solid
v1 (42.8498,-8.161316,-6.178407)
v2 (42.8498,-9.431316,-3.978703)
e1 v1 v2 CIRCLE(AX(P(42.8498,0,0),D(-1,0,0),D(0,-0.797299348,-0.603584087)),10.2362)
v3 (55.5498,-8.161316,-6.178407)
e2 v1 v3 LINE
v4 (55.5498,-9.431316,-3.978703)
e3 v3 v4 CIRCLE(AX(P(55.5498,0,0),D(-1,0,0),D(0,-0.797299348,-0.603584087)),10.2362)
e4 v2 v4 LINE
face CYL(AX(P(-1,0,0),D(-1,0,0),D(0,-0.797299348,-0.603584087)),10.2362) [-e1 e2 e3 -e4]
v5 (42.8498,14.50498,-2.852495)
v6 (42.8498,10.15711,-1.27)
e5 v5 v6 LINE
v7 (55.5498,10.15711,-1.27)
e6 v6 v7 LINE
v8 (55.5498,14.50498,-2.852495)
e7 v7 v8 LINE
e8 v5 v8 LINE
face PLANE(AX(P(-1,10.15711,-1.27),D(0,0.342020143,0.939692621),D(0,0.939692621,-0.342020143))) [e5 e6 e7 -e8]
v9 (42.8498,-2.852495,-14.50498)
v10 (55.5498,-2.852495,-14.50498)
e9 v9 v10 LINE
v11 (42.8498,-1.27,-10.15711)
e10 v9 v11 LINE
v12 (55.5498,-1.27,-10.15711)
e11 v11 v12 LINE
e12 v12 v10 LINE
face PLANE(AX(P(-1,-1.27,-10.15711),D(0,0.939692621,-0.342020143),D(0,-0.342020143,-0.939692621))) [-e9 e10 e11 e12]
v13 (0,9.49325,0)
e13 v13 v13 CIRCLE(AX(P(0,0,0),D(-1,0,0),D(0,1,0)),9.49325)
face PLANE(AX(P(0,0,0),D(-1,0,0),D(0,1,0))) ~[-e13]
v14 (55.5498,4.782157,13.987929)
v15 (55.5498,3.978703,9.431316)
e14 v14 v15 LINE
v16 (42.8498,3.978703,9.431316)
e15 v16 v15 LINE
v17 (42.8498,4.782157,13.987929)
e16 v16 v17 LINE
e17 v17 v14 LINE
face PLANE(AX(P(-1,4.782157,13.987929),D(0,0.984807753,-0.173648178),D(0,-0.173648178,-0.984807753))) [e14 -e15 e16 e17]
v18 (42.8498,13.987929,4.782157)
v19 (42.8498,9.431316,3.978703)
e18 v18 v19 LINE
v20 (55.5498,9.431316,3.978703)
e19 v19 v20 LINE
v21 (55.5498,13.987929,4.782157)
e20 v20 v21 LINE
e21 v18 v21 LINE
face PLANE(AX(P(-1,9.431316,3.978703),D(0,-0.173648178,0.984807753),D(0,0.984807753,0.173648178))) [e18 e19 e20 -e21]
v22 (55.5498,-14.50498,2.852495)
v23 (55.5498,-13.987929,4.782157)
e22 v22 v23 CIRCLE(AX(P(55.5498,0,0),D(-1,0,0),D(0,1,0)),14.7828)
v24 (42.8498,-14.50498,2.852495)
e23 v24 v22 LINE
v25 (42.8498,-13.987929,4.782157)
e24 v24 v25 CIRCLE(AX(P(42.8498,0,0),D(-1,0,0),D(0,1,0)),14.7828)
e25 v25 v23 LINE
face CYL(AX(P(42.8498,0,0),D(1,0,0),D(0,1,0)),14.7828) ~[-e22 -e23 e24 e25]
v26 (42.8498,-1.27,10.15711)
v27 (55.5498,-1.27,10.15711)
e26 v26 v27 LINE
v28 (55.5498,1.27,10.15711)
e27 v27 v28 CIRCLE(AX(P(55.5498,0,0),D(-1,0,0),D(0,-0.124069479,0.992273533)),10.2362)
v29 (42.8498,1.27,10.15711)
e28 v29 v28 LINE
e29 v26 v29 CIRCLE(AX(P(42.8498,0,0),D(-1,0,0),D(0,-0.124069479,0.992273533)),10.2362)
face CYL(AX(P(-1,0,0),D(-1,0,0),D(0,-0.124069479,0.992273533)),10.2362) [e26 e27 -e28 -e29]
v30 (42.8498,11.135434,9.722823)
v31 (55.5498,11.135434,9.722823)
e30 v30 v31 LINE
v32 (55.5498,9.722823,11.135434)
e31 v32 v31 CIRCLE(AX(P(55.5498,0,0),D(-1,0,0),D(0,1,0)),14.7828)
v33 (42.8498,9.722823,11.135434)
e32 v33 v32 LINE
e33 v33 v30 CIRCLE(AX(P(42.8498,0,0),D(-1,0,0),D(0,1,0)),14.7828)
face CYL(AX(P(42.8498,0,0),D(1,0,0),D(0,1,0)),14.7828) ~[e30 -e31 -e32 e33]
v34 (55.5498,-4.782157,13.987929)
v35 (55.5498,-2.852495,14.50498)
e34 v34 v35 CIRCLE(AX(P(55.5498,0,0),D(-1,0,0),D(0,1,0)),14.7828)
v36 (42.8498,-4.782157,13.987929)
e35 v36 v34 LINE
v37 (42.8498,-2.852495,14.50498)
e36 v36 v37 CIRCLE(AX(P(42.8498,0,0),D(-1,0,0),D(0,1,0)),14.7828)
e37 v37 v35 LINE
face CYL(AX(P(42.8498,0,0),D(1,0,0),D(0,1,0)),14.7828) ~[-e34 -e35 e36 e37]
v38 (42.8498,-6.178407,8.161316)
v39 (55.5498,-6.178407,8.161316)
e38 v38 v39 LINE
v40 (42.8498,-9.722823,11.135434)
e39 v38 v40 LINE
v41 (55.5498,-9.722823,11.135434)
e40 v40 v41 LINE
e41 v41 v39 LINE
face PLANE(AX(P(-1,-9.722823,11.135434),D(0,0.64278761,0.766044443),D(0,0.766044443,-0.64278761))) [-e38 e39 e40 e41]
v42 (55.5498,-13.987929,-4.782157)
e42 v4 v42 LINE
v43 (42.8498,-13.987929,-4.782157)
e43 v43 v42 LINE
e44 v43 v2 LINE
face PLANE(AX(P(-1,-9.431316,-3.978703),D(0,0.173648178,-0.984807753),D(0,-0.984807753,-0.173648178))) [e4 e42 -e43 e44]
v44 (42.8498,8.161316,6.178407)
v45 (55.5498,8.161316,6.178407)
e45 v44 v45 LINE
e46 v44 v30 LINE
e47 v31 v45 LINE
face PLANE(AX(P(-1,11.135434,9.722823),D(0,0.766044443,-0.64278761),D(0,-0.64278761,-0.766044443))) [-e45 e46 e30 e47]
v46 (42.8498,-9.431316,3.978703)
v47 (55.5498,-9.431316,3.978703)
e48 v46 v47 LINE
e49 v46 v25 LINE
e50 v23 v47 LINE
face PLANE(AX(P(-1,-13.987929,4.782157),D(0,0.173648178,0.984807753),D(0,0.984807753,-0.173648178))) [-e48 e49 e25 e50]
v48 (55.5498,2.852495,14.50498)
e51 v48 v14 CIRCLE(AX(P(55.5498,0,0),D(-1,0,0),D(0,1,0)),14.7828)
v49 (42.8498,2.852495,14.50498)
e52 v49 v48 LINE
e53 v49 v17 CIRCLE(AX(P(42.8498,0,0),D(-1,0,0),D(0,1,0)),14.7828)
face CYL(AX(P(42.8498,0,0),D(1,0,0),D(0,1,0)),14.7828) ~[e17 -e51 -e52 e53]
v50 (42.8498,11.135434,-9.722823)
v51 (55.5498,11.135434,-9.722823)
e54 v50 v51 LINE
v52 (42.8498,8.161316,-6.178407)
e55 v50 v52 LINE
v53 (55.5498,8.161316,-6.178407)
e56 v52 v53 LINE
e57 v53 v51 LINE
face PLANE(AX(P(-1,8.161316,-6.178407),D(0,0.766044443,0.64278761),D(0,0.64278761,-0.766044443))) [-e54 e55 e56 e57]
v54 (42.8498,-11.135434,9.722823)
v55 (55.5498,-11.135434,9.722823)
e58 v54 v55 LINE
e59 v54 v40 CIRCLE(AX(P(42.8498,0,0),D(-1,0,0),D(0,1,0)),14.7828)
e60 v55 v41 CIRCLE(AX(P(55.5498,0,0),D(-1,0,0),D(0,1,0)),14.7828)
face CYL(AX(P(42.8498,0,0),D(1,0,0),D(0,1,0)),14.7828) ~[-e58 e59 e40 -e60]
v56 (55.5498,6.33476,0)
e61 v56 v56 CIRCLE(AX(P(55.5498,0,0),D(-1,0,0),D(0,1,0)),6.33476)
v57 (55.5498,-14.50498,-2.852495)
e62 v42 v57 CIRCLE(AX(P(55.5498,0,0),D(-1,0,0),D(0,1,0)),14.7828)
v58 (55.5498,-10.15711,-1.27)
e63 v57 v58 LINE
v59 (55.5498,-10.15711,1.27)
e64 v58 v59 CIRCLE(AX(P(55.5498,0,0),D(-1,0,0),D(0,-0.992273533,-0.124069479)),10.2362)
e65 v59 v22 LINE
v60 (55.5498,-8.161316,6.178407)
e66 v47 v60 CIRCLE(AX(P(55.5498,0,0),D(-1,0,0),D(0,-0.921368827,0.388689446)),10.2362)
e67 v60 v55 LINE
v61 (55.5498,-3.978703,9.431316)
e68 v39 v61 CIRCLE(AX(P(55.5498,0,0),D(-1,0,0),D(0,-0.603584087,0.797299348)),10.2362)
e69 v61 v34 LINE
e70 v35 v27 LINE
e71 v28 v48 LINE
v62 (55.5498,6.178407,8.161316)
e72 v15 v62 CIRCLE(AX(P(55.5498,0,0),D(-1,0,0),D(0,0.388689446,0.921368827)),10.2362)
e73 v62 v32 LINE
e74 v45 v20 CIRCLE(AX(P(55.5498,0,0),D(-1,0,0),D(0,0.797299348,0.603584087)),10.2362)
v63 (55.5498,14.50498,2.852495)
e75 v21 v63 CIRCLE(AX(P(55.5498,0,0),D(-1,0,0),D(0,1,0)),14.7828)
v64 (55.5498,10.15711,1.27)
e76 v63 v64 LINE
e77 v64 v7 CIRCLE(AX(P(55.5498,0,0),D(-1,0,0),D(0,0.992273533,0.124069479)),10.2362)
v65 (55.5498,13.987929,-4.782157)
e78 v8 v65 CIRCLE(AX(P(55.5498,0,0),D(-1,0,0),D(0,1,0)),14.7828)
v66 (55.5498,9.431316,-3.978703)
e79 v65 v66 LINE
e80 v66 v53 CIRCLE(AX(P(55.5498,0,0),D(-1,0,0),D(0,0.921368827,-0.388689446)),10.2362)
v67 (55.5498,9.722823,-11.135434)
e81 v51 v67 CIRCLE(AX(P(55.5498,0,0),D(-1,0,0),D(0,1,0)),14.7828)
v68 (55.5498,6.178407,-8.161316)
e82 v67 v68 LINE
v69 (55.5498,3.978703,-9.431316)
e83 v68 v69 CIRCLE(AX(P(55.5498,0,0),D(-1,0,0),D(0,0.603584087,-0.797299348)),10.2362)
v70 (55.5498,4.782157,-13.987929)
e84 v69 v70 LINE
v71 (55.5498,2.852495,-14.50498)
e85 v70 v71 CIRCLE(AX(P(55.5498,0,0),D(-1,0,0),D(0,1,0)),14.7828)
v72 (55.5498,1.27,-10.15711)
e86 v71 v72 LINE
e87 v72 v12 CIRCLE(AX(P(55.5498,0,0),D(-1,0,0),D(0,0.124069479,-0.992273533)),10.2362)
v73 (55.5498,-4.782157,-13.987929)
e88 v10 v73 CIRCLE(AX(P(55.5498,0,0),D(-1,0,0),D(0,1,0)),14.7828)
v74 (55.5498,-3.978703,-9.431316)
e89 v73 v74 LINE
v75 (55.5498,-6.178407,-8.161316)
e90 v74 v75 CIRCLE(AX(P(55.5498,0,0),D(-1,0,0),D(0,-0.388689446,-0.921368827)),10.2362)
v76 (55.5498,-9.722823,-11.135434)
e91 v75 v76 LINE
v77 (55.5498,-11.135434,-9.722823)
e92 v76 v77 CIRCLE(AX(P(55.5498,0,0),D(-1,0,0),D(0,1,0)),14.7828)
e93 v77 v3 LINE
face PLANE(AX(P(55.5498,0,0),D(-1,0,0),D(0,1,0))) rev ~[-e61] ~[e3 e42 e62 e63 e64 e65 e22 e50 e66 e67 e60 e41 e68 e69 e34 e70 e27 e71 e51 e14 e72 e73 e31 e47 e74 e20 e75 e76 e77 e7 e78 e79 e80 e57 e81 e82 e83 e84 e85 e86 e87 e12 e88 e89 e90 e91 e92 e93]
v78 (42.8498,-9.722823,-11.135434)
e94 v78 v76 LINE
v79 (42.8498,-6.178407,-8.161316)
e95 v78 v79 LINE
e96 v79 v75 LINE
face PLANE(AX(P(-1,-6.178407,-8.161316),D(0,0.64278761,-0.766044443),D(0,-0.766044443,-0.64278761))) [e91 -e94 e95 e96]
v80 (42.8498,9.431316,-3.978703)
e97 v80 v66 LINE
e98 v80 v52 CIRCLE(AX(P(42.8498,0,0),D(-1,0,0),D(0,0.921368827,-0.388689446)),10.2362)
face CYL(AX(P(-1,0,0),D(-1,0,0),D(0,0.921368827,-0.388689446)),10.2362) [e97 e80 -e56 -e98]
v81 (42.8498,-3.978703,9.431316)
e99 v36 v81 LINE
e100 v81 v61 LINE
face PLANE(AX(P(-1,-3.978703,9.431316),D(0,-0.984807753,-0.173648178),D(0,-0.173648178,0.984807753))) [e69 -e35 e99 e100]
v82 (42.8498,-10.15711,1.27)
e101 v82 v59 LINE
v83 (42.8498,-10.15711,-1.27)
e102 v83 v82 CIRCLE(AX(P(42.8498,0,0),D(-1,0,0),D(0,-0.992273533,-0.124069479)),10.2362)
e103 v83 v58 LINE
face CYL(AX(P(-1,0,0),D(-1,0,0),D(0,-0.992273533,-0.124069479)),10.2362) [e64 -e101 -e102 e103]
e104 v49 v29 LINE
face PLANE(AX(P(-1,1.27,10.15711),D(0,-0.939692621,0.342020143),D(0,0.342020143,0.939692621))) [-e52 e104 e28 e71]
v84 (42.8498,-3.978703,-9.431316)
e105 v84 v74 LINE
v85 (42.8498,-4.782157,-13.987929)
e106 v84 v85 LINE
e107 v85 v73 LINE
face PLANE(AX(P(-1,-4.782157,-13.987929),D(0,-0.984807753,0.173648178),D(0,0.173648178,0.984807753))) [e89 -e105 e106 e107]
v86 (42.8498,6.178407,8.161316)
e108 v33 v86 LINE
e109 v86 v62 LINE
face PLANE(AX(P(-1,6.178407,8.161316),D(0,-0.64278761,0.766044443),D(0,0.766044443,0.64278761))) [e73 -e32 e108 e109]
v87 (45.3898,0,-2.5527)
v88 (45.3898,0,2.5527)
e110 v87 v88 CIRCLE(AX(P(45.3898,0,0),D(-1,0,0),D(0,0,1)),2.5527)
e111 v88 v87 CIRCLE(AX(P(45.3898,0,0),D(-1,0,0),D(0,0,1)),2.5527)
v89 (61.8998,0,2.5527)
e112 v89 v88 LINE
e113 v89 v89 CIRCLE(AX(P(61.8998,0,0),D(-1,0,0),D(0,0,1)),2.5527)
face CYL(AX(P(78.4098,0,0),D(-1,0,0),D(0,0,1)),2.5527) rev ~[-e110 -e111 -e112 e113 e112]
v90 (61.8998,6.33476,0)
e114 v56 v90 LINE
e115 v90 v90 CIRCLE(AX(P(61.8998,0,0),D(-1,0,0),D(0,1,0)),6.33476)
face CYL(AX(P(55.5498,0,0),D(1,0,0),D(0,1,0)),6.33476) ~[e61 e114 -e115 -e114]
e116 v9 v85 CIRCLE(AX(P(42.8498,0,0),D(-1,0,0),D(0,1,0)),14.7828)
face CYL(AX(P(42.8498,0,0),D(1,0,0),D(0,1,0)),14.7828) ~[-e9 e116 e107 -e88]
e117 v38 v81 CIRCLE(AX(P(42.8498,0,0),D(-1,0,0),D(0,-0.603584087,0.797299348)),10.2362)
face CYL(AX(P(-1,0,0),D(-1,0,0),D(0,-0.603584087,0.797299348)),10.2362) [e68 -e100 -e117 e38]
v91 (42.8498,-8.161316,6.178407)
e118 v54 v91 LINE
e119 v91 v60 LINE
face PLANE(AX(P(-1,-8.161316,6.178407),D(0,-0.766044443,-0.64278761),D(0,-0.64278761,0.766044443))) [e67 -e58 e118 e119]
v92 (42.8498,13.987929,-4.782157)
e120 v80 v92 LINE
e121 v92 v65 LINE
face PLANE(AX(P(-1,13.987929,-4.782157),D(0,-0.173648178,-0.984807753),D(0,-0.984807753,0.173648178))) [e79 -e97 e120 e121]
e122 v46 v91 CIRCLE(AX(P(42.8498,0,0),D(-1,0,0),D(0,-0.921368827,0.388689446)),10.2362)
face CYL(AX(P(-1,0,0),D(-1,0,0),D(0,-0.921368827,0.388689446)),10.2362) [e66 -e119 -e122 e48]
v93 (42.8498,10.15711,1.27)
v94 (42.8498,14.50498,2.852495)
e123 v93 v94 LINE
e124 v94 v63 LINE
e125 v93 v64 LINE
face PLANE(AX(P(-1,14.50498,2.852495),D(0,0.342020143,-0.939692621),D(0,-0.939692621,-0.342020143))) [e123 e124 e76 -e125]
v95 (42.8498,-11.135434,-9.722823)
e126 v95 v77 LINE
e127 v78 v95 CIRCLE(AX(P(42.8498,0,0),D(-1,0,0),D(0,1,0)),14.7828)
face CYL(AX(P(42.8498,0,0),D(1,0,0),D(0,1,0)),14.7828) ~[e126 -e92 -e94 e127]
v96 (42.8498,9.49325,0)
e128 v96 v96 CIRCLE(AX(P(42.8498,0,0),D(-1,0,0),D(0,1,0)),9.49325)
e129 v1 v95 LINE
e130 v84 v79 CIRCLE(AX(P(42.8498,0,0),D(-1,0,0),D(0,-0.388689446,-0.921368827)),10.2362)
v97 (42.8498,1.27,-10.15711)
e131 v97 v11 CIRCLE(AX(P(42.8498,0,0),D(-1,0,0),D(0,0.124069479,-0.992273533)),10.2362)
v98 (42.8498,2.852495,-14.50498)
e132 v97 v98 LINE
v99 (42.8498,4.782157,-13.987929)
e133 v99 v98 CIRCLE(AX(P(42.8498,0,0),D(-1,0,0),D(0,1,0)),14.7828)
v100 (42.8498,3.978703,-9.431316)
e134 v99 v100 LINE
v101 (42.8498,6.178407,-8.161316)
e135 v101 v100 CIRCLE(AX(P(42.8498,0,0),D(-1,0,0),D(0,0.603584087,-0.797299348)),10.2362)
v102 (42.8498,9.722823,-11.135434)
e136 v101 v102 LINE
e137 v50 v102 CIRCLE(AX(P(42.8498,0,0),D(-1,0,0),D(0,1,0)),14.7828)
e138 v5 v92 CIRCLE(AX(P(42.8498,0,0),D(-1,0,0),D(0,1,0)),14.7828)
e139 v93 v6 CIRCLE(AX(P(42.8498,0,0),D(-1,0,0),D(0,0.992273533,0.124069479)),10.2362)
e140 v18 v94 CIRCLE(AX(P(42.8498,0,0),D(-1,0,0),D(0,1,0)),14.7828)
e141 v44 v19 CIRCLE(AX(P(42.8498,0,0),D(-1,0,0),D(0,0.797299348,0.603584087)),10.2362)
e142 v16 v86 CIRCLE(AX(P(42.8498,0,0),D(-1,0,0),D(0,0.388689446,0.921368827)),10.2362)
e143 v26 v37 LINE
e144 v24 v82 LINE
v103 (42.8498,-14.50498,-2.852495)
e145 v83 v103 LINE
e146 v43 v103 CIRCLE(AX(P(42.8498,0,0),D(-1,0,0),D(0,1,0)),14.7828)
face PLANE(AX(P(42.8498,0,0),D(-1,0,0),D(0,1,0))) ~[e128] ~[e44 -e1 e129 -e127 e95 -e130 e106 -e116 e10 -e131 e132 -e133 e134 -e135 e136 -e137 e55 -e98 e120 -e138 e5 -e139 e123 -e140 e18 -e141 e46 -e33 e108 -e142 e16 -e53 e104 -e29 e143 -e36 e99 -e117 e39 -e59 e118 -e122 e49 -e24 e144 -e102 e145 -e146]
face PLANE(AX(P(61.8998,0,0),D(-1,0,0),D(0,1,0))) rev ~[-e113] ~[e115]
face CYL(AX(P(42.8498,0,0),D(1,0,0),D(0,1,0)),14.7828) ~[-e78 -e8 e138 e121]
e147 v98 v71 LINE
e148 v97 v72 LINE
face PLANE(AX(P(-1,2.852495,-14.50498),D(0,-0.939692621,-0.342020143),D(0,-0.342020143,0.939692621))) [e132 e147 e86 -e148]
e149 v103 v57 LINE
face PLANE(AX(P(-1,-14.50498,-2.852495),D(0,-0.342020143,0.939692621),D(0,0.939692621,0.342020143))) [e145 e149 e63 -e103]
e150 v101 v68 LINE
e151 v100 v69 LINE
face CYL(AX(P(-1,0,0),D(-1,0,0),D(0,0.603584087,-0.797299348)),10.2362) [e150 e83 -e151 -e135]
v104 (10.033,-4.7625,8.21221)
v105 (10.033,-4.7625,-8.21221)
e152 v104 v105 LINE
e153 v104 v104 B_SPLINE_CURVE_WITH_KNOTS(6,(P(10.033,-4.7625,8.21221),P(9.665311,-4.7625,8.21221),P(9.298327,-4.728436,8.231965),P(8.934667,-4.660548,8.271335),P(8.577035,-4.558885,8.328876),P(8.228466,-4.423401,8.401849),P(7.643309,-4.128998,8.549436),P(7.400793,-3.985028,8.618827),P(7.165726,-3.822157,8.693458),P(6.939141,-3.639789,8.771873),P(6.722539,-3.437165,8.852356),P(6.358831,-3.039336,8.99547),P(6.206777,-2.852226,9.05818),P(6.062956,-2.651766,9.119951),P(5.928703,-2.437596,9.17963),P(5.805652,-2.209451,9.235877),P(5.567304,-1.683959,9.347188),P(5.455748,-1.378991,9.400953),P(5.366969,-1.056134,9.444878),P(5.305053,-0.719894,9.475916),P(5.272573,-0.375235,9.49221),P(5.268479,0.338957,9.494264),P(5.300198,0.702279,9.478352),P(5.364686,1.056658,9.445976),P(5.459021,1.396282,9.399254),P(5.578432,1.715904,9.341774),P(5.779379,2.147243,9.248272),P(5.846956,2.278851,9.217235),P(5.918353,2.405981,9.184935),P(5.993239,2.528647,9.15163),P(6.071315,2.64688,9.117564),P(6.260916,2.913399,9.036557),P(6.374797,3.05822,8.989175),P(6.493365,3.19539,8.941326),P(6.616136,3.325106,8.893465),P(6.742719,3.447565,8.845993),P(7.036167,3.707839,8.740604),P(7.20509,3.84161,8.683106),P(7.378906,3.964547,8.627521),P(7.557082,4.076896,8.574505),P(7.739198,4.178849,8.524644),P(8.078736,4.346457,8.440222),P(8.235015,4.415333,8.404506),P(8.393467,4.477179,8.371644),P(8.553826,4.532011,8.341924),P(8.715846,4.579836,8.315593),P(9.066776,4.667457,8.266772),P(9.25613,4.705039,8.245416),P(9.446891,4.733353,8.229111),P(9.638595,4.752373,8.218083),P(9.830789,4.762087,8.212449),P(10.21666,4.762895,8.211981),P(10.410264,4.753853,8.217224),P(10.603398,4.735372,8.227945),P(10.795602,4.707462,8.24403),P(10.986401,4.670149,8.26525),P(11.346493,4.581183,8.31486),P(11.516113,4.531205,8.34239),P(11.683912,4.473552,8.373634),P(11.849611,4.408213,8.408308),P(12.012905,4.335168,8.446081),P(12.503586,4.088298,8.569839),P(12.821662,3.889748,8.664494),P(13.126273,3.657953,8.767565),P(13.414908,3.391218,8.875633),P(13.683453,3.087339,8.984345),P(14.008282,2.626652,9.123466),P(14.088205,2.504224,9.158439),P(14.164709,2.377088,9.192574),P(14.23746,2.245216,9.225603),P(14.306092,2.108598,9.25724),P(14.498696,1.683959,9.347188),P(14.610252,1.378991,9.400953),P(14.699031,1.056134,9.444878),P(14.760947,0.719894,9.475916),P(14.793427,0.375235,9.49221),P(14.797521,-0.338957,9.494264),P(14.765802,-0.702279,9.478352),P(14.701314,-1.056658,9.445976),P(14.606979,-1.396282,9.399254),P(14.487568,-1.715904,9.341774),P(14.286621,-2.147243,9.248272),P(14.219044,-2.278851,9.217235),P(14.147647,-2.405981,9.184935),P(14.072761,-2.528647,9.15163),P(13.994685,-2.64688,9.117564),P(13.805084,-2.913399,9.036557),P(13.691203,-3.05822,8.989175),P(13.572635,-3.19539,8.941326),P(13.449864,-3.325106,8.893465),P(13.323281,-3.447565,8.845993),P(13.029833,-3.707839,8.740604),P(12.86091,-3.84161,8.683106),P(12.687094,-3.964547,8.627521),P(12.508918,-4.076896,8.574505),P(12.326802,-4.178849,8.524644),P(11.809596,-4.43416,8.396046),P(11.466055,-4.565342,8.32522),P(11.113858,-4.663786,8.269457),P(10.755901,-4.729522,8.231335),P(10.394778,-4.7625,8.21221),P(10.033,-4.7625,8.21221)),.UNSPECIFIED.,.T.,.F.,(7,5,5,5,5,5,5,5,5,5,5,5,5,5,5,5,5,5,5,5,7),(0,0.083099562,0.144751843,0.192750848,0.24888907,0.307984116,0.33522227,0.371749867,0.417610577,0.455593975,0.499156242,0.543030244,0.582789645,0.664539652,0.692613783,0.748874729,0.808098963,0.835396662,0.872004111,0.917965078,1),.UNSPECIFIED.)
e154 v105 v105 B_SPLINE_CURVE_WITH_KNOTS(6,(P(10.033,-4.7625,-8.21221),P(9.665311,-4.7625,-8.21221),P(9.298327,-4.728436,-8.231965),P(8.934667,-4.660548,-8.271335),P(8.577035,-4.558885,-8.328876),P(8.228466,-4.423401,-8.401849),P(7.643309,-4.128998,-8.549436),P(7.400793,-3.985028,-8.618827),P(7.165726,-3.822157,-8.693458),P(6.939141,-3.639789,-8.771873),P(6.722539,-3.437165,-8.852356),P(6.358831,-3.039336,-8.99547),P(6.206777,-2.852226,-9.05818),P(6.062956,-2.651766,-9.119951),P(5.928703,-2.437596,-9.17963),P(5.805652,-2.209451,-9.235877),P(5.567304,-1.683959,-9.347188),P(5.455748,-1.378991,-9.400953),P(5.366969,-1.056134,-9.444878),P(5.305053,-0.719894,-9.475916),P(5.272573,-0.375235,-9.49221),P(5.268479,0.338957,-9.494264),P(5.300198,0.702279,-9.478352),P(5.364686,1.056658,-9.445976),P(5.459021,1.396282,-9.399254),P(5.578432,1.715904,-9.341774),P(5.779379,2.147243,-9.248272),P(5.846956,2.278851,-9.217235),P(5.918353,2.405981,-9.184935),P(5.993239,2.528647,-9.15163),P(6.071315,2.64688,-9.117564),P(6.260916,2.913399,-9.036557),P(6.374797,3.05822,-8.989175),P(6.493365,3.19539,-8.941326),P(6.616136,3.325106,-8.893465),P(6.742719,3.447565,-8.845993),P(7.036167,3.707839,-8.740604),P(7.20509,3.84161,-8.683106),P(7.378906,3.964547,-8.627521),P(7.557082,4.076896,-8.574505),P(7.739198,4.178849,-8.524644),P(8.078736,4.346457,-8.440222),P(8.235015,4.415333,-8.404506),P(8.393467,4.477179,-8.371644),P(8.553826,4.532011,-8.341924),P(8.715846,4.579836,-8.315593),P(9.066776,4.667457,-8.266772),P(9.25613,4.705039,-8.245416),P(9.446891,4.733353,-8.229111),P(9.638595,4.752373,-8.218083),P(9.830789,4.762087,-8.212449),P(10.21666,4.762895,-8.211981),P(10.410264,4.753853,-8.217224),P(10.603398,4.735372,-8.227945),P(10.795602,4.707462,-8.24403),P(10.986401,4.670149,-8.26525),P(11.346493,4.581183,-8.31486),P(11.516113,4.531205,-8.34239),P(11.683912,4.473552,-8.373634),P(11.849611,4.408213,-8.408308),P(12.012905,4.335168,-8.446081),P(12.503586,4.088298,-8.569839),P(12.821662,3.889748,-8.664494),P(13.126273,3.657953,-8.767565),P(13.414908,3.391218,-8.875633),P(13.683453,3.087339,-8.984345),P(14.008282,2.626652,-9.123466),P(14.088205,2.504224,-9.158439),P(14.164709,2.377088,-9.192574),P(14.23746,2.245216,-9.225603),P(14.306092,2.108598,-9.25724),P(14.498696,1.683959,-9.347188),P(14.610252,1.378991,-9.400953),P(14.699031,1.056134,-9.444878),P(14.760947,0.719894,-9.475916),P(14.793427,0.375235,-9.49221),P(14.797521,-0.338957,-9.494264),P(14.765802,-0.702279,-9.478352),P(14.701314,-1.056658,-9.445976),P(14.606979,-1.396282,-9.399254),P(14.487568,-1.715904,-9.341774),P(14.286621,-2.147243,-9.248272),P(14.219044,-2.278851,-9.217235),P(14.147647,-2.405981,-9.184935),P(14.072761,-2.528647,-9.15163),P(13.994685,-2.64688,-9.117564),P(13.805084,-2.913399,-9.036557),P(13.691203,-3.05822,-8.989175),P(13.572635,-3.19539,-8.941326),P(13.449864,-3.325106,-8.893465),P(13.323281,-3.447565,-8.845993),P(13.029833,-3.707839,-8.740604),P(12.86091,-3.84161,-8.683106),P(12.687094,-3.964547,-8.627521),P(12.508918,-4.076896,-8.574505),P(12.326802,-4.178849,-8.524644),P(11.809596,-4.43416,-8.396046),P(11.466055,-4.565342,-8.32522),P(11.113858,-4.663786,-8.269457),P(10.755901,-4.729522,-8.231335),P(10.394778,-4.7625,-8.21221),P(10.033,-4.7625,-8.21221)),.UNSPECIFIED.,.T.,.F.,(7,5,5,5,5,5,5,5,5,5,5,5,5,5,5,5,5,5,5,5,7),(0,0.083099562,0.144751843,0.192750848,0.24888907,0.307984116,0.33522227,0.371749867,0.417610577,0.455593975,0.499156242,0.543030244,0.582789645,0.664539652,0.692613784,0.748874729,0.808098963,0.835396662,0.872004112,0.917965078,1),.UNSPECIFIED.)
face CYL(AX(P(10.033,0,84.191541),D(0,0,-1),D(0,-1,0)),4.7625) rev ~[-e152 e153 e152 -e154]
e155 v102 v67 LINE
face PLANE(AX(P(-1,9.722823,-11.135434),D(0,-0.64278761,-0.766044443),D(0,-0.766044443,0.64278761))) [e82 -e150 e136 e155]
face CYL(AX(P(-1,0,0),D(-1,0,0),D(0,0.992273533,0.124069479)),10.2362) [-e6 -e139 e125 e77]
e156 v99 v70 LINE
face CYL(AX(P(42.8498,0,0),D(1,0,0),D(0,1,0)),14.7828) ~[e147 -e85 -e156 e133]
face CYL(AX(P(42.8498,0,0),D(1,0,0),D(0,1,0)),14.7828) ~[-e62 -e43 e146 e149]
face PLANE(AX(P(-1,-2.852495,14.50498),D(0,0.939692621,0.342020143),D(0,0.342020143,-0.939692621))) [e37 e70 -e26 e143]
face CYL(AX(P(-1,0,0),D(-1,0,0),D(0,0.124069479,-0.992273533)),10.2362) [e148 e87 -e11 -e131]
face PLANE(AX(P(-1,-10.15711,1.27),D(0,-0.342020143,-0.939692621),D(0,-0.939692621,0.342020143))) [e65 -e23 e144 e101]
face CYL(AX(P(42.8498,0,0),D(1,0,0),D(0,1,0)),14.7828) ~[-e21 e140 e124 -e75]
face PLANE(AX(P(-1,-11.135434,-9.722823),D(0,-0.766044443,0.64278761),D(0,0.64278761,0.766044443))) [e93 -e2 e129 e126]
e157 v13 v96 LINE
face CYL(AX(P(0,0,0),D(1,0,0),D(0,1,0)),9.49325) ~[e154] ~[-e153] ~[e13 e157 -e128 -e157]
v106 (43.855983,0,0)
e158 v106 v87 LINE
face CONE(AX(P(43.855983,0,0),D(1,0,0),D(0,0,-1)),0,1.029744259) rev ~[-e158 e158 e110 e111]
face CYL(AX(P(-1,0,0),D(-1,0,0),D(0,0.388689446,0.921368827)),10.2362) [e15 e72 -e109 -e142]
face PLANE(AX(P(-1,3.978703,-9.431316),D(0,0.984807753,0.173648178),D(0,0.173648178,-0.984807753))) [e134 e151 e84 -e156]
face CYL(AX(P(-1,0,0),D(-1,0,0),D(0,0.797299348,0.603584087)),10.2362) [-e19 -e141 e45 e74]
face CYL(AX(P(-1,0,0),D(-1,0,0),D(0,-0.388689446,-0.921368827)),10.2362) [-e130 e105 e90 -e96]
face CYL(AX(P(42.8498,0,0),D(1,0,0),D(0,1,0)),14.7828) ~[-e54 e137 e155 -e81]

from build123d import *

# Parameters (mm, degrees)
HOLE1_D                     = 9.525
F_1_4_20_TAPPED_HOLE1_D     = 5.1054
F_1_4_20_TAPPED_HOLE1_DEPTH = 16.51
F_1_4_20_TAPPED_HOLE1_TIP   = 1.533816902
CUT_EXTRUDE1_START          = -56.5498001
CUT_EXTRUDE1_DEPTH          = 63.8998001
CIRPATTERN1_COUNT           = 12


with BuildPart() as part:
    # Sketch1 → Revolve1 (revolve)
    with BuildSketch(Plane.XY):
        Polygon((0, 0), (0, 9.49325), (42.8498, 9.49325), (42.8498, 14.7828), (55.5498, 14.7828), (55.5498, 6.33476), (61.8998, 6.33476), (61.8998, 0), align=None)
    revolve(axis=Axis((0, 0, 0), (-1, 0, 0)))

    # Hole1 (through all)
    with Locations(Plane(origin=(10.033, 0, 9.49325), x_dir=(0, 1, 0), z_dir=(0, 0, 1))):
        with Locations((0, 0)):
            Hole(HOLE1_D / 2)

    # 1/4-20 Tapped Hole1
    with Locations(Plane(origin=(61.8998, 0, 0), x_dir=(0, 0, -1), z_dir=(1, 0, 0))):
        with Locations((0, 0)):
            Hole(F_1_4_20_TAPPED_HOLE1_D / 2, depth=F_1_4_20_TAPPED_HOLE1_DEPTH)
            with Locations((0, 0, -(F_1_4_20_TAPPED_HOLE1_DEPTH + F_1_4_20_TAPPED_HOLE1_TIP / 2))):  # 118° drill point
                Cone(0, F_1_4_20_TAPPED_HOLE1_D / 2, F_1_4_20_TAPPED_HOLE1_TIP, mode=Mode.SUBTRACT)

    # Sketch13 → Cut-Extrude1 (cut)
    with BuildSketch(Plane(origin=(55.5498, 0, 0), x_dir=(0, 0, -1), z_dir=(1, 0, 0)).offset(CUT_EXTRUDE1_START)):
        with BuildLine():
            Line((-2.852495169, 14.504980081), (-1.27, 10.157110339))
            ThreePointArc((-1.27, 10.157110339), (0, 10.2362), (1.27, 10.157110339))
            Line((1.27, 10.157110339), (2.852495169, 14.504980081))
            ThreePointArc((2.852495169, 14.504980081), (0, 14.7828), (-2.852495169, 14.504980081))
        make_face()
    cut_extrude1 = extrude(amount=CUT_EXTRUDE1_DEPTH, mode=Mode.SUBTRACT)

    # CirPattern1: Cut-Extrude1 ×12 about axis
    cirpattern1_axis = Axis((55.5498, 0, 0), (1, 0, 0))
    for i in range(1, CIRPATTERN1_COUNT):
        add(cut_extrude1.rotate(cirpattern1_axis, i * 360 / CIRPATTERN1_COUNT), mode=Mode.SUBTRACT)


solid = part.part
